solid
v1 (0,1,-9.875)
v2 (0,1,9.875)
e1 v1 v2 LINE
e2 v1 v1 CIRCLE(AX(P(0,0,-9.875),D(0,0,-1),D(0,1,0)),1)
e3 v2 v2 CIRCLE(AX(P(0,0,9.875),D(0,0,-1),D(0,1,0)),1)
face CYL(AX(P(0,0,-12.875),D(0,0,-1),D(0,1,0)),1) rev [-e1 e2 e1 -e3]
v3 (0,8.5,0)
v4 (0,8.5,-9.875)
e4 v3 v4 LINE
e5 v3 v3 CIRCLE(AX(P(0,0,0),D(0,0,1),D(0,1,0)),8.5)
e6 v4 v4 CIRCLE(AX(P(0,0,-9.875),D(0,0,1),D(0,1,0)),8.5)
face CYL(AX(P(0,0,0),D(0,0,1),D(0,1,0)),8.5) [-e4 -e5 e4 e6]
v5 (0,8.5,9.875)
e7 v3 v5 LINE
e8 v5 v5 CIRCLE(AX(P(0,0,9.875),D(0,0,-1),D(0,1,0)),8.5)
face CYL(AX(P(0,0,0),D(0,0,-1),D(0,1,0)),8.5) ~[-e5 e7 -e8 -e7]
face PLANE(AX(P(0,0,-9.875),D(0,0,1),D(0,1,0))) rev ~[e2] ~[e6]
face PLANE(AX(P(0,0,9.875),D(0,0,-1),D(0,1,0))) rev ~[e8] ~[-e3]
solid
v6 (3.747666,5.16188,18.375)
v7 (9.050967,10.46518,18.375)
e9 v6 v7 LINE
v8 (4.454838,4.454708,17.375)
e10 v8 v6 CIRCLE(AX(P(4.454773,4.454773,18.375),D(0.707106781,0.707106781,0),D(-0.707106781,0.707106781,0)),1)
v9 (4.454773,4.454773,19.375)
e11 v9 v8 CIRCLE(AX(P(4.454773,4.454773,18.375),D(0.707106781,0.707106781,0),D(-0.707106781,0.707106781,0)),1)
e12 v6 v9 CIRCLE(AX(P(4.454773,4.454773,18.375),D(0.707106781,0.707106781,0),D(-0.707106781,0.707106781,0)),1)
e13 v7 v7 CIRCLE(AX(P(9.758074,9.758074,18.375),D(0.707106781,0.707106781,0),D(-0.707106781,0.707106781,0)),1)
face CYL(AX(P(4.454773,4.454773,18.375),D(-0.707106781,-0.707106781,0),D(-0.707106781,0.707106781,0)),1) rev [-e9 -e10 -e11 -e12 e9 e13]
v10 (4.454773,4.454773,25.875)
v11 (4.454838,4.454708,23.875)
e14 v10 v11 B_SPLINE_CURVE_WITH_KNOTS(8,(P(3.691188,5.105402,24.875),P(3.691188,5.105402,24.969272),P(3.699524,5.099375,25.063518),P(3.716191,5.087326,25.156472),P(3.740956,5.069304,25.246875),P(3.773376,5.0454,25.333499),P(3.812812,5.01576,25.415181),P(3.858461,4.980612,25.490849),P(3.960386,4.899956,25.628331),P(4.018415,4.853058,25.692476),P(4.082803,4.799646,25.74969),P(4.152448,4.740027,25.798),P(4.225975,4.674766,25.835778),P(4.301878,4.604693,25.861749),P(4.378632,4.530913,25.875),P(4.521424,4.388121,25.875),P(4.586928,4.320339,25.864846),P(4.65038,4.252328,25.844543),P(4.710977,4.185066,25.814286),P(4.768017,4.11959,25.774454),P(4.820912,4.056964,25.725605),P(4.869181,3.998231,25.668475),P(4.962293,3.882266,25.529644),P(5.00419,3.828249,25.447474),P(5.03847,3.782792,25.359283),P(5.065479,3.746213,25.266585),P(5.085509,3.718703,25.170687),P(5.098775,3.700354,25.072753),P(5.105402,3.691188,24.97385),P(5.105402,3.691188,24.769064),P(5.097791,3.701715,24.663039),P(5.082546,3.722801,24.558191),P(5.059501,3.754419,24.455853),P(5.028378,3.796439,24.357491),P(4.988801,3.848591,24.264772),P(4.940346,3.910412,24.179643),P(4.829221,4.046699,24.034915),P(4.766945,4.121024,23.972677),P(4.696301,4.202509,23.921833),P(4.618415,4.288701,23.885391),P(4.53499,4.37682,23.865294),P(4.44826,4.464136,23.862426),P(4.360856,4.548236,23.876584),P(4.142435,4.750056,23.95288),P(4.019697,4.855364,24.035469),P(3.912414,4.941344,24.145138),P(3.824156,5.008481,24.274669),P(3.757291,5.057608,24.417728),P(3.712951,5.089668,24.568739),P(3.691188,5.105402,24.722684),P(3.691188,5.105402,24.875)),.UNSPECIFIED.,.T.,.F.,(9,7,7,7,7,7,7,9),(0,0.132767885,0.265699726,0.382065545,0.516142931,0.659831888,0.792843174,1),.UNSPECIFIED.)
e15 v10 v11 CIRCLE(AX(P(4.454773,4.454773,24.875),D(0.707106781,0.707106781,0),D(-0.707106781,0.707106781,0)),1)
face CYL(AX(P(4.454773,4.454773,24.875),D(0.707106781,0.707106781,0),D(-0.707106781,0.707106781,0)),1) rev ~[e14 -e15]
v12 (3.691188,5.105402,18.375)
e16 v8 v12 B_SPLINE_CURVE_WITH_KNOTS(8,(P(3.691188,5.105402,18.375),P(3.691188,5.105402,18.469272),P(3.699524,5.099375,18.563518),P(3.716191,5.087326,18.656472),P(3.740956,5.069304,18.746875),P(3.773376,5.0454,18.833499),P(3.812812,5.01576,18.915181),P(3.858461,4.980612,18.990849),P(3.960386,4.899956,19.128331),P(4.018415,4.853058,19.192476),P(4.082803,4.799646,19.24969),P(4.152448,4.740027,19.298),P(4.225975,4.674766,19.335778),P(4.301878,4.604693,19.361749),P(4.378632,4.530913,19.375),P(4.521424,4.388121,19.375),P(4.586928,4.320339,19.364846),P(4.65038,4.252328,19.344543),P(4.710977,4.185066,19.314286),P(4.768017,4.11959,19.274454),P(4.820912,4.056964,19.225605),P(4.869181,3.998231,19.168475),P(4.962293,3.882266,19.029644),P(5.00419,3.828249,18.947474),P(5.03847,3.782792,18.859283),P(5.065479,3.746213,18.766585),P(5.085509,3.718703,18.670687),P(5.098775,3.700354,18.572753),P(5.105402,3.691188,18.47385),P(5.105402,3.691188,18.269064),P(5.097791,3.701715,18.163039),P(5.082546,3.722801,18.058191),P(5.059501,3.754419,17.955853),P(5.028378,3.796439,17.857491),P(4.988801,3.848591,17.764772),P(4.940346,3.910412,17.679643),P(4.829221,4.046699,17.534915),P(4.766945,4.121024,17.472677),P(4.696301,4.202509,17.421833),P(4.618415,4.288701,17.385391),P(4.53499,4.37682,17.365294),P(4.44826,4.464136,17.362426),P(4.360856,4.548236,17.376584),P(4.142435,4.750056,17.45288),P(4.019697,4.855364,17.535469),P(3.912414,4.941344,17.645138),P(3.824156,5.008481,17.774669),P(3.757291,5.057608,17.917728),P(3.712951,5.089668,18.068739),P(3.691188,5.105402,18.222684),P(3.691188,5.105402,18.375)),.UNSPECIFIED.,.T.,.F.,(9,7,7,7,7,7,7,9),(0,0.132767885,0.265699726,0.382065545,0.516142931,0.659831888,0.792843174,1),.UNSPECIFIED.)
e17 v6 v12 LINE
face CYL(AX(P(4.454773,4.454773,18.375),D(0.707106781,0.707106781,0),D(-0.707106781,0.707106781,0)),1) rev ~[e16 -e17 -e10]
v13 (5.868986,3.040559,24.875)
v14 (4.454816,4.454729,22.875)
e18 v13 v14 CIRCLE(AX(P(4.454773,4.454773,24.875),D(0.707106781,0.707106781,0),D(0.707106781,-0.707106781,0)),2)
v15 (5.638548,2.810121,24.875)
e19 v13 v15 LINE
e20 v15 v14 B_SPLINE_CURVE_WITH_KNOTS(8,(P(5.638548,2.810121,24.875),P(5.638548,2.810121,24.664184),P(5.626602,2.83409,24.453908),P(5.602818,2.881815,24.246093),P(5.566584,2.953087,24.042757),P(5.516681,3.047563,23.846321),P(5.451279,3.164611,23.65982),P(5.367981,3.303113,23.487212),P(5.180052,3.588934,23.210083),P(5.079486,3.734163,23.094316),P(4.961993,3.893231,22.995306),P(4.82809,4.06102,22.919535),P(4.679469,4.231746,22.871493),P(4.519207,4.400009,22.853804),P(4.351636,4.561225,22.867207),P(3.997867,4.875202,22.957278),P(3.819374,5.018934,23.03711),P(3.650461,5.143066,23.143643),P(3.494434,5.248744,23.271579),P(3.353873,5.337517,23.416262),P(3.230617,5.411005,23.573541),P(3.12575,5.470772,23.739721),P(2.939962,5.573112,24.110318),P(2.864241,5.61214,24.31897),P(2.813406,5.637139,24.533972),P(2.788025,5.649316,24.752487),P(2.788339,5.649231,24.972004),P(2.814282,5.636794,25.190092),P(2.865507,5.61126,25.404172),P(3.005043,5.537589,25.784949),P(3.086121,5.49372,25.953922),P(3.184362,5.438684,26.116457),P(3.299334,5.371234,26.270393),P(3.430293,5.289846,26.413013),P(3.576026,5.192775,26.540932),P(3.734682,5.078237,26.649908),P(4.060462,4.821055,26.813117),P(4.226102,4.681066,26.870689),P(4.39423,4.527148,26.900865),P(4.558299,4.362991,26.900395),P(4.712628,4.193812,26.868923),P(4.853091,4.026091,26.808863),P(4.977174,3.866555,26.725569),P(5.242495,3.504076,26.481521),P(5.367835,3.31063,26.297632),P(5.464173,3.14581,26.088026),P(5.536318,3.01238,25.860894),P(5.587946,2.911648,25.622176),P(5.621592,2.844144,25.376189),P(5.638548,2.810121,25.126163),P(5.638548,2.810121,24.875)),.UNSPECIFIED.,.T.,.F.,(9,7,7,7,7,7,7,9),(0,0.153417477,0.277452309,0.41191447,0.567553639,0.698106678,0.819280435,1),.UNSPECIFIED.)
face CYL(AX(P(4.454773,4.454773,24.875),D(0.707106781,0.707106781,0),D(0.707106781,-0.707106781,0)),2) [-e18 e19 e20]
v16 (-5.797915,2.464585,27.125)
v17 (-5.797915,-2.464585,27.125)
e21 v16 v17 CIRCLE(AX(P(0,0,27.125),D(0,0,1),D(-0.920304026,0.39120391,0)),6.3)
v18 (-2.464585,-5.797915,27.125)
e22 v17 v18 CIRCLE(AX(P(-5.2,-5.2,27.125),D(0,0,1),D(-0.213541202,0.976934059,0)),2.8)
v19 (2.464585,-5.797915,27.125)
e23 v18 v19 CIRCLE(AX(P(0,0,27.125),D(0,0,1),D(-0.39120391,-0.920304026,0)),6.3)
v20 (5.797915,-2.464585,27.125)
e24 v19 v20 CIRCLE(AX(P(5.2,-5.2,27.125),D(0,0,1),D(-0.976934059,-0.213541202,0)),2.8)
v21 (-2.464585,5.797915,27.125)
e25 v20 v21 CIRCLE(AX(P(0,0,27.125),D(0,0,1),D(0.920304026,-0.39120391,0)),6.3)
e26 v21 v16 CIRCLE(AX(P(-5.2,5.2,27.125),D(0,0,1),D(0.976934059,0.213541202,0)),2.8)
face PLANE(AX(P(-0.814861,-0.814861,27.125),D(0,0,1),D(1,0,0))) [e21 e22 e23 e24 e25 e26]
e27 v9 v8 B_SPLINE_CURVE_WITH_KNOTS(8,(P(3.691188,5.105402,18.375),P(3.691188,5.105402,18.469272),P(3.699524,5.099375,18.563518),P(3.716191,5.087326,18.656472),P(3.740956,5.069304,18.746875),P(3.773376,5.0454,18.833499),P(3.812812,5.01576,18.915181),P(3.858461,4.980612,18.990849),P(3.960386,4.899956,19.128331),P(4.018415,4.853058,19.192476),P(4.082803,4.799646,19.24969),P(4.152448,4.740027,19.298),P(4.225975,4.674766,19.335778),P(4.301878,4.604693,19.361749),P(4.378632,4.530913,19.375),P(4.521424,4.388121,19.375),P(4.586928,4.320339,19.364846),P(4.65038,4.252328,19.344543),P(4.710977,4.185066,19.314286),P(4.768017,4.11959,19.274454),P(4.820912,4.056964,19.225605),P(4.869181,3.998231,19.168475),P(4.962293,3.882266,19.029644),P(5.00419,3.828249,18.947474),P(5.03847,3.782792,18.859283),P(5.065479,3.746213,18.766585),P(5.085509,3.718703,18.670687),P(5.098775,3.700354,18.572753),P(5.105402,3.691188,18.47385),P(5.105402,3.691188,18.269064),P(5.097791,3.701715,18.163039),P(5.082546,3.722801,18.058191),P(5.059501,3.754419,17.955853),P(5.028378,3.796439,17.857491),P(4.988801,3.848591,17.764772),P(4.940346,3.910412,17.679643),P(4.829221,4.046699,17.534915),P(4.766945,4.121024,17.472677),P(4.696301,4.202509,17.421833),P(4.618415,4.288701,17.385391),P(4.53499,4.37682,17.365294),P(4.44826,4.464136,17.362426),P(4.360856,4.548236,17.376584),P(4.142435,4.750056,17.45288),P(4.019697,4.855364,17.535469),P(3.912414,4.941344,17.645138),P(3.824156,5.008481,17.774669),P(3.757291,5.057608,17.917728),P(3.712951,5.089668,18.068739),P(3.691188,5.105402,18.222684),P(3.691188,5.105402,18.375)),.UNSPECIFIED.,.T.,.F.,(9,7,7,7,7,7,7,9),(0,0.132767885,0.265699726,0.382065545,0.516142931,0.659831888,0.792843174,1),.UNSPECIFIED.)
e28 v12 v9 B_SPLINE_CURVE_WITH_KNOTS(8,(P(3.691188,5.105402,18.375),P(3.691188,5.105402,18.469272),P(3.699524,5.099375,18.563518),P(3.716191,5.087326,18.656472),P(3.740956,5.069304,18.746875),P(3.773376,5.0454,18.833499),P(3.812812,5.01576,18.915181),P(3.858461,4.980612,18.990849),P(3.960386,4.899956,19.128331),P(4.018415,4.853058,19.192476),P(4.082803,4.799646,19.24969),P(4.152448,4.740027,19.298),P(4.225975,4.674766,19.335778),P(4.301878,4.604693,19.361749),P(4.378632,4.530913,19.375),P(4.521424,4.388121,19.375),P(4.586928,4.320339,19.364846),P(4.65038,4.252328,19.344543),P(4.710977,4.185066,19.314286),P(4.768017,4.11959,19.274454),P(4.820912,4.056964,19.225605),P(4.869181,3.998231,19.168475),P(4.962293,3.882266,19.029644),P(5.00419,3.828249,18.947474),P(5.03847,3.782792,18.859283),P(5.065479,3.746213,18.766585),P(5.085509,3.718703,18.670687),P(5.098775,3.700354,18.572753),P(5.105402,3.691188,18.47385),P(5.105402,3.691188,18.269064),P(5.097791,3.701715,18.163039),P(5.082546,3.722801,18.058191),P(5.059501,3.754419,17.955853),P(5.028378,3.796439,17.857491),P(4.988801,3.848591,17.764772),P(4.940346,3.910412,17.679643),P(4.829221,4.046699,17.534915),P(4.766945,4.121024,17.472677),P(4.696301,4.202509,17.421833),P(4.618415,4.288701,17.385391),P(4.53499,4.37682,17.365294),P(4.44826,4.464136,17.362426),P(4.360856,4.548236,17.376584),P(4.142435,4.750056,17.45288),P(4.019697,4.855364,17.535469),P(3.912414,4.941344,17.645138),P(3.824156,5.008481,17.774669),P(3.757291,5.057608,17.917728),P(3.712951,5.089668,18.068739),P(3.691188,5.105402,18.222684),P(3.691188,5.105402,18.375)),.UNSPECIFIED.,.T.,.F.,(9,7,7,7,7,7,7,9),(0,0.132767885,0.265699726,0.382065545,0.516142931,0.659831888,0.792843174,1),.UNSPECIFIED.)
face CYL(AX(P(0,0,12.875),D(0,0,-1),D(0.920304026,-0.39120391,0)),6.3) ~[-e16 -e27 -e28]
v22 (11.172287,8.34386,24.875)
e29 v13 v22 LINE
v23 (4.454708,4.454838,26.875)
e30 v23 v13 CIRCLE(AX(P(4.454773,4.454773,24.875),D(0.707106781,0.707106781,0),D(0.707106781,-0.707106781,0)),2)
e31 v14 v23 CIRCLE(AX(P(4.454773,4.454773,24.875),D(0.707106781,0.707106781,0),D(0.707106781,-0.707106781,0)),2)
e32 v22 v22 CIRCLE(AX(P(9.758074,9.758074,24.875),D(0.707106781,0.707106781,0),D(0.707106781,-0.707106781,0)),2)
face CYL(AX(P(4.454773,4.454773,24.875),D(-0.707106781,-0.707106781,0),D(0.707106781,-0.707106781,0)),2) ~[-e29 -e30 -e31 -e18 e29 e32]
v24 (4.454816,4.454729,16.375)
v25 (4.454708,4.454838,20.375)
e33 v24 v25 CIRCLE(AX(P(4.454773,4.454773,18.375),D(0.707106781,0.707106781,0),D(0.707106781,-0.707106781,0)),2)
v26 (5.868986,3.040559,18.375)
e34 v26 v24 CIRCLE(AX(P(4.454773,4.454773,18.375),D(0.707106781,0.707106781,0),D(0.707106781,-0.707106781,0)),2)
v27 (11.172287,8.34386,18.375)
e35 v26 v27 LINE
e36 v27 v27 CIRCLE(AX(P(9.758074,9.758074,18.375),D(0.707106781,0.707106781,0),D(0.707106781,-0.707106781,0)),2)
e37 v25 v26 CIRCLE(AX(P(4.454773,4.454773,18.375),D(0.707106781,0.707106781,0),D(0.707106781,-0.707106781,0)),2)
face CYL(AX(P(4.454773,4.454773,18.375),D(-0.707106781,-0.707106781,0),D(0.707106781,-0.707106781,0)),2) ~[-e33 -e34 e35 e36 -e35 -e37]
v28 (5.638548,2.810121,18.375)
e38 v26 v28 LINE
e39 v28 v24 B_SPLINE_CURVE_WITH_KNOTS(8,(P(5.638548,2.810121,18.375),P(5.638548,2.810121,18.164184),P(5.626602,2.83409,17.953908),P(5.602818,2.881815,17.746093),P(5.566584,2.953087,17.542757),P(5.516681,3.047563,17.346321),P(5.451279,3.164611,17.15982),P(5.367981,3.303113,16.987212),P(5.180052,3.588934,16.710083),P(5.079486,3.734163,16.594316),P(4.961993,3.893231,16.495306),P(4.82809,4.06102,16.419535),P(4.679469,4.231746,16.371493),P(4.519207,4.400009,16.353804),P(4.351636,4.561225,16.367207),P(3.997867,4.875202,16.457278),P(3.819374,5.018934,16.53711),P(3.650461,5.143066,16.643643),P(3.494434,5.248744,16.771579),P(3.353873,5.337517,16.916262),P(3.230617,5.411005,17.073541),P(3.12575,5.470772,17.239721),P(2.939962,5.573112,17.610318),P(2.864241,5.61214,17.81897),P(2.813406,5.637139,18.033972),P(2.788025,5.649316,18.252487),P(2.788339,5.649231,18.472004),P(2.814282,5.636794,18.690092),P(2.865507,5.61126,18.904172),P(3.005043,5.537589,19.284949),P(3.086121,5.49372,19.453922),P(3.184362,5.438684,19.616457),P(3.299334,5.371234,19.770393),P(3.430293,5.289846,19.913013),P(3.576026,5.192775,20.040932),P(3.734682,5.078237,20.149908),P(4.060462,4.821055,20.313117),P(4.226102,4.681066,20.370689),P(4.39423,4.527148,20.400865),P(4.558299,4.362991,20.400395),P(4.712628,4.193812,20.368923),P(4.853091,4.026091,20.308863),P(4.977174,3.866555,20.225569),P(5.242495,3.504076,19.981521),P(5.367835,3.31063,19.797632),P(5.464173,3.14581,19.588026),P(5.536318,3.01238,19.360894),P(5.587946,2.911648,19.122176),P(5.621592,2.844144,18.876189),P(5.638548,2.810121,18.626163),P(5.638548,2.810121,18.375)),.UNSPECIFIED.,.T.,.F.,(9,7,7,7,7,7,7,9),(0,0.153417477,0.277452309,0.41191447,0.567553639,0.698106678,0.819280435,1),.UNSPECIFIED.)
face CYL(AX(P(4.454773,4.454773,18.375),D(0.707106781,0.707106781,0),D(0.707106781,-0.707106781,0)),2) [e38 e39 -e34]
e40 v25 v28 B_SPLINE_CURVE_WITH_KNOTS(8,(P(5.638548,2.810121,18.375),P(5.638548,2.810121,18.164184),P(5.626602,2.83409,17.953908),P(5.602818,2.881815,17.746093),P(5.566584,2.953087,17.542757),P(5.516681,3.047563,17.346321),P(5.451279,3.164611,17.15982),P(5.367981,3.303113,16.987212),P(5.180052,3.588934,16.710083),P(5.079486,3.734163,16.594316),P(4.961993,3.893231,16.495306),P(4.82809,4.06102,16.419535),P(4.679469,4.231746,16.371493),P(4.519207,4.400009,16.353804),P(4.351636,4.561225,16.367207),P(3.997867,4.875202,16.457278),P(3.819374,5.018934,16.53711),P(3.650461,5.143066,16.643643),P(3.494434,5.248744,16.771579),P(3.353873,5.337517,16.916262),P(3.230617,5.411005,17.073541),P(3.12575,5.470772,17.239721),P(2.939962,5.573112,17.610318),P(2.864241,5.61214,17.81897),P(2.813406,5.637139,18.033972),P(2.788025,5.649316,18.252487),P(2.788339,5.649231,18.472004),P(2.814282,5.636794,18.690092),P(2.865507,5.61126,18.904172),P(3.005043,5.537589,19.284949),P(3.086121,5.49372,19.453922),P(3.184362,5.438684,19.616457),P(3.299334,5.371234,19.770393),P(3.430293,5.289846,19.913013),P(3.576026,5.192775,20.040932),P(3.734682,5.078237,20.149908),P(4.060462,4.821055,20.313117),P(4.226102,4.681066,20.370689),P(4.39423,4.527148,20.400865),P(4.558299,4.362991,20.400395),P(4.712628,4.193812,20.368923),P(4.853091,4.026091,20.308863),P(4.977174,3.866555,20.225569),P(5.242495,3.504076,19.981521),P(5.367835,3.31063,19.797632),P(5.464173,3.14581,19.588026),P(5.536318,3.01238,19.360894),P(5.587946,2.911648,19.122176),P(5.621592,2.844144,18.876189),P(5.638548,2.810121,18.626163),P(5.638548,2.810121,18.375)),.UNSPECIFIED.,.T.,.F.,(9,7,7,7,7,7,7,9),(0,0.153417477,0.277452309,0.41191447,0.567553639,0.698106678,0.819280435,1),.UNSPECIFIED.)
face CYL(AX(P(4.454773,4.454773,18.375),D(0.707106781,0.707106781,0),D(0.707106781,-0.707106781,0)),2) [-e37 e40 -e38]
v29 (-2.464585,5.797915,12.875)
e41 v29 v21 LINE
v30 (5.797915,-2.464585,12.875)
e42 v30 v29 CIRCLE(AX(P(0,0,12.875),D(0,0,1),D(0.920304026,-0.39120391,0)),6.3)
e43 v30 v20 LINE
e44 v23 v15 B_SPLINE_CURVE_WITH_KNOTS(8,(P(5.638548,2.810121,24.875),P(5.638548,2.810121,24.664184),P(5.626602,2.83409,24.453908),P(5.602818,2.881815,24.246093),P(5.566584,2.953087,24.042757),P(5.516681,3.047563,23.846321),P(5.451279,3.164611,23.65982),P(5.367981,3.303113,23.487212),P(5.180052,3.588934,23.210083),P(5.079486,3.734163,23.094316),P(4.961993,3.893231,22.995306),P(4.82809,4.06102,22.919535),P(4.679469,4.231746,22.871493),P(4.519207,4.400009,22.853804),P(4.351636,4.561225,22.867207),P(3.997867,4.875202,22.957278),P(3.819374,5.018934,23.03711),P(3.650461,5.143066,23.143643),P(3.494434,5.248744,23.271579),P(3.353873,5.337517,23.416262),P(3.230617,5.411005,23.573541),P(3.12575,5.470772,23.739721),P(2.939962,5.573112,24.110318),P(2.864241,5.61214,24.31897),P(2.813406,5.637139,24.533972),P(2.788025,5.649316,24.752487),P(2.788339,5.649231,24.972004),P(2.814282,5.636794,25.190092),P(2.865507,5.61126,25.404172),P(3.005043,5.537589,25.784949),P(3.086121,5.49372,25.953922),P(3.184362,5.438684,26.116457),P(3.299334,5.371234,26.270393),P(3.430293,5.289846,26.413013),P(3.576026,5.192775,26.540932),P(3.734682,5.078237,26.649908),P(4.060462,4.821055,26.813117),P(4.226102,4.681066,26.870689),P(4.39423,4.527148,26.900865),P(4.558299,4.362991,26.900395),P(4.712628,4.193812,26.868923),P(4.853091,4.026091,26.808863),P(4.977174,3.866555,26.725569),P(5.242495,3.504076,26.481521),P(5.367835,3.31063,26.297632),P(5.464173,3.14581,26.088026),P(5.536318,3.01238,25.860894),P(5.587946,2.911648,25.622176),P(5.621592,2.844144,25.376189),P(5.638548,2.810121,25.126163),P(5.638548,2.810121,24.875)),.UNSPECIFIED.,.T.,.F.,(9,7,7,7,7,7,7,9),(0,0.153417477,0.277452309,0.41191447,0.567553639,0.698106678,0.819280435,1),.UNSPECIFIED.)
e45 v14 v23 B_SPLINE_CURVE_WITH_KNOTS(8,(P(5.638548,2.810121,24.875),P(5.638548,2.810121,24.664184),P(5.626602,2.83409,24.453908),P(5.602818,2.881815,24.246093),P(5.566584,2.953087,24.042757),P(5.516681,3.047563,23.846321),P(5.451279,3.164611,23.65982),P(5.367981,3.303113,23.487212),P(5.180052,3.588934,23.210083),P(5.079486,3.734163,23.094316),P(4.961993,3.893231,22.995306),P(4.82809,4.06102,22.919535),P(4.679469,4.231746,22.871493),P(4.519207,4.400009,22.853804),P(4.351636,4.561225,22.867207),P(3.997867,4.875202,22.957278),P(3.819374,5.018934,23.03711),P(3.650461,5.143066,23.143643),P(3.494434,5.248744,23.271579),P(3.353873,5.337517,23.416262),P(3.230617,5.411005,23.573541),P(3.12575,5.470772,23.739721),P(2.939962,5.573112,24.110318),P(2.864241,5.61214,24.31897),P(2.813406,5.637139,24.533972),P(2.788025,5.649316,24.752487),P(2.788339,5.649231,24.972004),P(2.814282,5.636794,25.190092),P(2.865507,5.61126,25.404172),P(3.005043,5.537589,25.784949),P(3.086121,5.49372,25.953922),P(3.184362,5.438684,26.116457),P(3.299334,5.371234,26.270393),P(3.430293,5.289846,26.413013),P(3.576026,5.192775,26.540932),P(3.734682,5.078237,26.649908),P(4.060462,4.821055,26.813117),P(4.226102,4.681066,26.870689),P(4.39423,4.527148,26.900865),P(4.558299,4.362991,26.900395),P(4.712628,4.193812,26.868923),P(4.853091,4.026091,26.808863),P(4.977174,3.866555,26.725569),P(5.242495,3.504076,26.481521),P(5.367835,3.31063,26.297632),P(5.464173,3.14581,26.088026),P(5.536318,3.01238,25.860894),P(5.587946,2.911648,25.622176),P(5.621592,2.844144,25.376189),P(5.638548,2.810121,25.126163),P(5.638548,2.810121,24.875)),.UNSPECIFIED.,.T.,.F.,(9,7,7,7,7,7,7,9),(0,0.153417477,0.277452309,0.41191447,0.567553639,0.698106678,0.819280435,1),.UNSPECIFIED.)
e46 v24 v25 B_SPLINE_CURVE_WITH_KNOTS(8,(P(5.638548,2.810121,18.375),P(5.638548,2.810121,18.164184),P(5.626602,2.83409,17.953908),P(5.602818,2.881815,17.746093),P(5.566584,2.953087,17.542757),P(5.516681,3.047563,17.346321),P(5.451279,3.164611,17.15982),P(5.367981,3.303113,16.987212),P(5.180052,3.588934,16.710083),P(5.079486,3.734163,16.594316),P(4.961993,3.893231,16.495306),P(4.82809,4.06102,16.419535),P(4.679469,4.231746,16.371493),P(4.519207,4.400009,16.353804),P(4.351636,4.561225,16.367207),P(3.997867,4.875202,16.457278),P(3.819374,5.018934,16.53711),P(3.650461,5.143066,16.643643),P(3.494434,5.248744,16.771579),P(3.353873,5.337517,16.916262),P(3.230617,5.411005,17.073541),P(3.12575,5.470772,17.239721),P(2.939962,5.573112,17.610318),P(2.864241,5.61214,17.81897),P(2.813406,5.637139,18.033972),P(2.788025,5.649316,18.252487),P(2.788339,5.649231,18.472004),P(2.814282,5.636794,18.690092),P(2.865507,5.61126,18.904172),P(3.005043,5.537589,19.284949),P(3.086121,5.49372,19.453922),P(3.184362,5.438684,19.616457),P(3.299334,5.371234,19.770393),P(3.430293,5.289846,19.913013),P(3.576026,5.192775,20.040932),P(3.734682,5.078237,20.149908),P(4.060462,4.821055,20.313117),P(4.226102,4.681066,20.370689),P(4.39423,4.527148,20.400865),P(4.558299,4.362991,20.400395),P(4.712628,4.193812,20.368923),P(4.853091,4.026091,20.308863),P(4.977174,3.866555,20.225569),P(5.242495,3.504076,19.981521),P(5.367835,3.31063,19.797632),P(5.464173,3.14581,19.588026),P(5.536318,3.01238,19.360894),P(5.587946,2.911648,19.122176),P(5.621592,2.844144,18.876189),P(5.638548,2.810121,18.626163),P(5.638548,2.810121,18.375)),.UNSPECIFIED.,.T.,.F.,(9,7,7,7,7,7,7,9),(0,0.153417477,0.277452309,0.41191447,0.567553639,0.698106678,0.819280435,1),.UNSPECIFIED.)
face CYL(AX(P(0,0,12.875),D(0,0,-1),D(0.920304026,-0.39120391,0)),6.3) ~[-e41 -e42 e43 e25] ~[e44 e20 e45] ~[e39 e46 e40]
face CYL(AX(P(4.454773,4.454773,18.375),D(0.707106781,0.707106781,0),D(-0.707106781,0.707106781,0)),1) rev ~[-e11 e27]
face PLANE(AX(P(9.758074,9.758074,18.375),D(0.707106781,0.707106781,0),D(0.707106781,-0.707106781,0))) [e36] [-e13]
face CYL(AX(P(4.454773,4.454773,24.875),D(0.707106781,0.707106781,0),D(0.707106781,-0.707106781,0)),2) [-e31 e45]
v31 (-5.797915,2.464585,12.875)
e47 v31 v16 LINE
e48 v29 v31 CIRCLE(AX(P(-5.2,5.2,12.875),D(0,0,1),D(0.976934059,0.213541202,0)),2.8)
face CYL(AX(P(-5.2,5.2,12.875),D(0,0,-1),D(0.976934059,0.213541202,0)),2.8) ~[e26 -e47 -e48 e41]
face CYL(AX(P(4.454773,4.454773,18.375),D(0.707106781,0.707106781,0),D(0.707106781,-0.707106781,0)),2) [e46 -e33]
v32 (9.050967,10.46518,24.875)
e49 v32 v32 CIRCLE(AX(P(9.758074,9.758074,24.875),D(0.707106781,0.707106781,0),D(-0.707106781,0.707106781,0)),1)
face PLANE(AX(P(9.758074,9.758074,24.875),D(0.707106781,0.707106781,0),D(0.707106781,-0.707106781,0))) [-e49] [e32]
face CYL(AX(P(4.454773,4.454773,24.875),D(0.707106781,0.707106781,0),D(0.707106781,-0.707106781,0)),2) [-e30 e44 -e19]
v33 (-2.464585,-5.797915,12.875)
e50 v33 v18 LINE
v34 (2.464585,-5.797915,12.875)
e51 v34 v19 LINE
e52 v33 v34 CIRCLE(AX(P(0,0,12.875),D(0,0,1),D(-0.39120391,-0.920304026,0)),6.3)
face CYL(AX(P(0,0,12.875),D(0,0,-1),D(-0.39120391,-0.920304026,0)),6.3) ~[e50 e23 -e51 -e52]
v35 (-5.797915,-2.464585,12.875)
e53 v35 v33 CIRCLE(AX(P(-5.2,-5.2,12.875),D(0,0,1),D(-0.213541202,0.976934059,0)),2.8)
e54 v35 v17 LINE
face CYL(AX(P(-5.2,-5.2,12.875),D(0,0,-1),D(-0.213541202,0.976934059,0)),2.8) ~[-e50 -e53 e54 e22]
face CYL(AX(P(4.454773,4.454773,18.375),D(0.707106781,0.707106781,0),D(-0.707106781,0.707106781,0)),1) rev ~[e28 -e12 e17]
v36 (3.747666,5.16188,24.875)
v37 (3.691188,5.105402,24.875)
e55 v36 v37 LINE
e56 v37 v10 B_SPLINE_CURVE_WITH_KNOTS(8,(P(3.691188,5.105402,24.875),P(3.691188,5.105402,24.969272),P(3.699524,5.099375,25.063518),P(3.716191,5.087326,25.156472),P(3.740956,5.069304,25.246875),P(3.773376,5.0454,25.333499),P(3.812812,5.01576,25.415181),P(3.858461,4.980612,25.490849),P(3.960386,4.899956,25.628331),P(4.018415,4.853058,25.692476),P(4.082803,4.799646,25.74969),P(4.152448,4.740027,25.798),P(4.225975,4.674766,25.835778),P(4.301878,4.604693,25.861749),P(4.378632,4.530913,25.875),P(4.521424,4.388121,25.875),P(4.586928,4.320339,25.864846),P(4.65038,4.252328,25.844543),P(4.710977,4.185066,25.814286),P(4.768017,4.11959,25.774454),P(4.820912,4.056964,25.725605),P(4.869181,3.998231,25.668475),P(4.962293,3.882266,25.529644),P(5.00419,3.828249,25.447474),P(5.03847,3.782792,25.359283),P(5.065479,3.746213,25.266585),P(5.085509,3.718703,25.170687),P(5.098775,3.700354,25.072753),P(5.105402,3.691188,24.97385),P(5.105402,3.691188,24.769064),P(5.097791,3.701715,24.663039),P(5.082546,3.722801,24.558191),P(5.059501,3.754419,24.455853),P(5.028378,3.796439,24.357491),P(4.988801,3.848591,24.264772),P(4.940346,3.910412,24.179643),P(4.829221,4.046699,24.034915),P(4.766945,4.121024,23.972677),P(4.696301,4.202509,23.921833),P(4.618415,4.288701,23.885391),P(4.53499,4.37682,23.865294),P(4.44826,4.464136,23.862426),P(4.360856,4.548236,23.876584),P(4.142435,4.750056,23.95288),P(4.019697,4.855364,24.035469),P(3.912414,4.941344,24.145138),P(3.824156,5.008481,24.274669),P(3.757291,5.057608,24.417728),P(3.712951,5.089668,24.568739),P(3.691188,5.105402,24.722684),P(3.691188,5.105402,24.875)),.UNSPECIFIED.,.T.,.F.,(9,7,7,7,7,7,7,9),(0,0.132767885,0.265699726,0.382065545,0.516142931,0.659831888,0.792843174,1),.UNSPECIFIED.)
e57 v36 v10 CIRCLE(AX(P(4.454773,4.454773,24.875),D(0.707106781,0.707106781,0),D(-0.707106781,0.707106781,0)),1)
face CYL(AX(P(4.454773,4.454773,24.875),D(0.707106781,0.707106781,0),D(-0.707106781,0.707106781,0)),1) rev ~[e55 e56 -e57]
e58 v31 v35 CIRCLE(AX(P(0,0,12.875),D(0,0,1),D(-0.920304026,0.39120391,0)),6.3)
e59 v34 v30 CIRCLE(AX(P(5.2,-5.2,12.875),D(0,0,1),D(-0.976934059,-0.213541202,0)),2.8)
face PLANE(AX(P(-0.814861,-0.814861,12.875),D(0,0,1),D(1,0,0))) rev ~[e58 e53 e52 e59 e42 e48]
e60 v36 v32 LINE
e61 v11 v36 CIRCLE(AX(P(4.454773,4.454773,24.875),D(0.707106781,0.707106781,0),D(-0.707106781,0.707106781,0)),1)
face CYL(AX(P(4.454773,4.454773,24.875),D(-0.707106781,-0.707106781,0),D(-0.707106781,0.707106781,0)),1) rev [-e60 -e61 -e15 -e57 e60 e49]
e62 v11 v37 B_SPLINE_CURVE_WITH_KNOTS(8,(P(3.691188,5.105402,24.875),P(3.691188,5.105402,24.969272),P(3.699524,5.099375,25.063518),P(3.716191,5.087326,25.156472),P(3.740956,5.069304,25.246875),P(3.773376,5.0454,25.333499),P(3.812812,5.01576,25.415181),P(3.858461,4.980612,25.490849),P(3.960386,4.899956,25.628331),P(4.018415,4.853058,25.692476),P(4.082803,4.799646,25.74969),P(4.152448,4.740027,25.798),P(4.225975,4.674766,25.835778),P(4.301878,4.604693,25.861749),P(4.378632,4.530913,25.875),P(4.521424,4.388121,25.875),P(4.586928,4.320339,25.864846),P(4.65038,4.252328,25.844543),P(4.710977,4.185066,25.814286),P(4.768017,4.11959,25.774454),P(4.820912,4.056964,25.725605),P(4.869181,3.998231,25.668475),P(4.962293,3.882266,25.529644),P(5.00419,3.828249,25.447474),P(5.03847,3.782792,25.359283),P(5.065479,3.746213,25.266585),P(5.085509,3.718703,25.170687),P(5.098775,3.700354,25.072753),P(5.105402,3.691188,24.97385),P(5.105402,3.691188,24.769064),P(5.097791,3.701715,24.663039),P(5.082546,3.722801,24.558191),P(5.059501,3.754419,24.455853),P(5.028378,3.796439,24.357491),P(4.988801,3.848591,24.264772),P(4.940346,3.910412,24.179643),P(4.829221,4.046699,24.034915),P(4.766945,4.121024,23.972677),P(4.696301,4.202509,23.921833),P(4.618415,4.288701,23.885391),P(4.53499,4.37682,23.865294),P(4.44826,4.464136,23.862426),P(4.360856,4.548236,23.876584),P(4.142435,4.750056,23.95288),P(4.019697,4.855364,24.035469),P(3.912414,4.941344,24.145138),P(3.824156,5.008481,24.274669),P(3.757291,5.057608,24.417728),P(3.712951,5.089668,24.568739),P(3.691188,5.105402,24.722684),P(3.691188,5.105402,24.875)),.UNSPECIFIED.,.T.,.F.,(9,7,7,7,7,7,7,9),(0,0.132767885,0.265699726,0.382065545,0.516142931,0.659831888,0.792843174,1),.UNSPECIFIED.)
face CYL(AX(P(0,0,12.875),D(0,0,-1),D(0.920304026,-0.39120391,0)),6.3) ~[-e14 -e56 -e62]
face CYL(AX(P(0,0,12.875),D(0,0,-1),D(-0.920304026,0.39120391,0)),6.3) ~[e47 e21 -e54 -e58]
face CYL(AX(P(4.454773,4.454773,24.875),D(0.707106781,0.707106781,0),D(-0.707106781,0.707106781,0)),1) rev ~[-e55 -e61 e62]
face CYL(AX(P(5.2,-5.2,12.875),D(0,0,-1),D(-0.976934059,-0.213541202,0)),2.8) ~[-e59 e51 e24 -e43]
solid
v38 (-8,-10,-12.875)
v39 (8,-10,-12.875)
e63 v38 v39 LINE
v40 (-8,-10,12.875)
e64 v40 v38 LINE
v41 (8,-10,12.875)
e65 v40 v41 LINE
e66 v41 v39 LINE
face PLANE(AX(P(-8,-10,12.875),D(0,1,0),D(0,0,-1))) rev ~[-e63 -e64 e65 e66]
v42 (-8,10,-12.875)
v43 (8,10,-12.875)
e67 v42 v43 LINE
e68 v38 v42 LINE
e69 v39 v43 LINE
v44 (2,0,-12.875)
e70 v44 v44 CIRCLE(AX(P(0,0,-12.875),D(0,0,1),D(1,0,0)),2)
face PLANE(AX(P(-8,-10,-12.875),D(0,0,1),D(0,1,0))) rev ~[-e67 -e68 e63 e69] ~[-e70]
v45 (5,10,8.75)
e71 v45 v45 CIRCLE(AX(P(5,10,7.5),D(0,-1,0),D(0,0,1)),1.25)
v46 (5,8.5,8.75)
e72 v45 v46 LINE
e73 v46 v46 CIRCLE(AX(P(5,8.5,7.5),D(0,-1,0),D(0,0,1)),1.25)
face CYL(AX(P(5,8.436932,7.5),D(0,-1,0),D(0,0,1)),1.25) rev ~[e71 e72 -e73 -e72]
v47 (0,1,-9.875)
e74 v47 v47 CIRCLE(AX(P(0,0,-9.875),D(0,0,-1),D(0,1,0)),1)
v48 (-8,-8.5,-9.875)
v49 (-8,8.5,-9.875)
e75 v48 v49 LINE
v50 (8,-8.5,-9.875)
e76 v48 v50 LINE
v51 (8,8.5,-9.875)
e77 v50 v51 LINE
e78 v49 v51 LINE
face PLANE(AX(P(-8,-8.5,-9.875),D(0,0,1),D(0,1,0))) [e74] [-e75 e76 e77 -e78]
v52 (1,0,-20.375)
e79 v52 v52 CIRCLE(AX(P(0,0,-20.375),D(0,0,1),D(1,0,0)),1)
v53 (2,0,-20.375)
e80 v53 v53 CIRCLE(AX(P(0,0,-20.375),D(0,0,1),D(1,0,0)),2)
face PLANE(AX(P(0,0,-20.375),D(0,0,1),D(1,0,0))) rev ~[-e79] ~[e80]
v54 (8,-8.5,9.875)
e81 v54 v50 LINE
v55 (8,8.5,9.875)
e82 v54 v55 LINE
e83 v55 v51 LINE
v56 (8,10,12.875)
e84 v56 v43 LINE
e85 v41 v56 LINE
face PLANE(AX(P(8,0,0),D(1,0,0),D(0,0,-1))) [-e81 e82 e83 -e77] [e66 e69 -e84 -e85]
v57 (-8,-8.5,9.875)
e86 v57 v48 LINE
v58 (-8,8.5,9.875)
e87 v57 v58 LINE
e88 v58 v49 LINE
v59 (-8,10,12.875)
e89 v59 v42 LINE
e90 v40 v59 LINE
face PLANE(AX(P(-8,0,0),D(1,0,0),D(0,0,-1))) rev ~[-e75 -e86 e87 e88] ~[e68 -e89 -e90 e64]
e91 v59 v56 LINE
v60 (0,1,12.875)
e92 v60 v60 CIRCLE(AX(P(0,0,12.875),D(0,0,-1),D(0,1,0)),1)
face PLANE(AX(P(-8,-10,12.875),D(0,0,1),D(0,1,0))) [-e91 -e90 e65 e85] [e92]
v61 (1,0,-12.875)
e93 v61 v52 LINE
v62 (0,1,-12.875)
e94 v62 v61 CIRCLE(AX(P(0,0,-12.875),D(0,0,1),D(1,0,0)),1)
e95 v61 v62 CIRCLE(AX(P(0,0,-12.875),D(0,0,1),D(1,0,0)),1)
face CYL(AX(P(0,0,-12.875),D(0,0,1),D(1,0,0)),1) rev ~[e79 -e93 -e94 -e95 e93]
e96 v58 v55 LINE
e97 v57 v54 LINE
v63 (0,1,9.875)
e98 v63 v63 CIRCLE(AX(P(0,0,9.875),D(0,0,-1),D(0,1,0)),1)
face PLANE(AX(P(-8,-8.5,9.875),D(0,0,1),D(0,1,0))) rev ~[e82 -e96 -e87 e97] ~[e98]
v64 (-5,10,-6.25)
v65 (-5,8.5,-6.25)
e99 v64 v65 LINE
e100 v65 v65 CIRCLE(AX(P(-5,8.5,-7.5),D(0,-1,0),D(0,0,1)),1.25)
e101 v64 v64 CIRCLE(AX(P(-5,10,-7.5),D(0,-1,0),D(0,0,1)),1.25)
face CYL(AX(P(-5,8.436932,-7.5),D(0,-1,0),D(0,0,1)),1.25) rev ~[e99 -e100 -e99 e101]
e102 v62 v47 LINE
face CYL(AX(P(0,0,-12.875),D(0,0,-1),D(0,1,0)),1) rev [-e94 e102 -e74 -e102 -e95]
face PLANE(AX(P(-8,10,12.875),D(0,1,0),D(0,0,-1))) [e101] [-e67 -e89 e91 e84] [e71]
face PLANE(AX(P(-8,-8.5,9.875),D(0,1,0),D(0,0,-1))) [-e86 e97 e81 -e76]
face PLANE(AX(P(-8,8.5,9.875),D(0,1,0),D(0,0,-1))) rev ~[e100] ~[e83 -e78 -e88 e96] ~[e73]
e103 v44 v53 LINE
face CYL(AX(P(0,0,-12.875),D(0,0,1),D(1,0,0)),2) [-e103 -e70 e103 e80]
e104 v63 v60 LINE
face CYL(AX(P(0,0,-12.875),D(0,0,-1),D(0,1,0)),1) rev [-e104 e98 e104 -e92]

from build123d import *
from build123d.topology import SkipClean

# Parameters (mm, degrees)
FRAME_EXTRUDE_DEPTH                      = 8
FRAME_EXTRUDE_DEPTH_BACK                 = 8
FRAME_SKETCH_W                           = 25.75
FRAME_SKETCH_H                           = 20
FRAME_SKETCH_W_2                         = 19.75
FRAME_SKETCH_H_2                         = 17
ELECTROMAGNET_EXTRUDE_REACH              = 20.159
ELECTROMAGNET_SKETCH_R                   = 8.5
ELECTROMAGNET_EXTRUDE_DIRECTION_2_REACH  = 20.159
PORT_3_SKETCH_R                          = 2
PORT_3_SKETCH_R_2                        = 1
PORT_3_EXTRUDE_DEPTH                     = 7.5
PORT_3_SKETCH_3_R                        = 1
CENTER_HOLE_CUT_DEPTH                    = 29.901773302
BASE_OF_PORT_1_2_PORTS_DEPTH             = 14.25
PORTS_1_2_SKETCH_R                       = 2
PORTS_1_2_SKETCH_R_2                     = 1
PORTS_1_2_EXTRUDE_DEPTH                  = 7.5
PORTS_1_2_EXTRUDE_DIRECTION_2_REACH      = 35.355
PORTS_1_2_EXTRUDE_DIRECTION_2_END_RADIUS = 6.3
MOUNTING_HOLES_PROFILE_SKETCH_W          = 1.25
MOUNTING_HOLES_PROFILE_SKETCH_H          = 3.126136458
MOUNTING_HOLES_AT_2_COUNT                = 2
MOUNTING_HOLES_AT_2_PITCH                = 18.027756377


with BuildPart() as part:
    # Frame Sketch → Frame Extrude (new, two sides: drawn at the far end of the back side and taken through both)
    with BuildSketch(Plane(origin=(0, 0, 0), x_dir=(0, 0, -1), z_dir=(1, 0, 0)).offset(-FRAME_EXTRUDE_DEPTH_BACK)):
        Rectangle(FRAME_SKETCH_W, FRAME_SKETCH_H)
        Rectangle(FRAME_SKETCH_W_2, FRAME_SKETCH_H_2, mode=Mode.SUBTRACT)
    extrude(amount=FRAME_EXTRUDE_DEPTH + FRAME_EXTRUDE_DEPTH_BACK)


with BuildPart() as body_2:

    # Electromagnet Extrude: up to this face of the body (flat: up to its plane)
    electromagnet_extrude_end = Plane(part.part.faces().sort_by_distance((0, 0, 9.875))[0])
    # Electromagnet Sketch → Electromagnet Extrude (new, up to the picked face)
    with BuildSketch(Plane.XY, mode=Mode.PRIVATE) as electromagnet_extrude_sk1:
        with Locations(Location((0, 0, 0), (0, 0, 90))):
            Circle(ELECTROMAGNET_SKETCH_R)
    electromagnet_extrude_tool1 = split(extrude(electromagnet_extrude_sk1.sketch, amount=ELECTROMAGNET_EXTRUDE_REACH, mode=Mode.PRIVATE), bisect_by=electromagnet_extrude_end, keep=Keep.BOTH, mode=Mode.PRIVATE)
    add(electromagnet_extrude_tool1.solids().sort_by(Axis((0, 0, 0), (0, 0, 1)))[0])


    # Electromagnet Extrude direction 2: up to this face of the body (flat: up to its plane)
    electromagnet_extrude_direction_2_end = Plane(part.part.faces().sort_by_distance((0, 0, -9.875))[0])
    # Electromagnet Sketch → Electromagnet Extrude direction 2 (add, up to the picked face)
    with BuildSketch(Plane.XY, mode=Mode.PRIVATE) as electromagnet_extrude_direction_2_sk1:
        with Locations(Location((0, 0, 0), (0, 0, 90))):
            Circle(ELECTROMAGNET_SKETCH_R)
    electromagnet_extrude_direction_2_tool1 = split(extrude(electromagnet_extrude_direction_2_sk1.sketch, amount=-ELECTROMAGNET_EXTRUDE_DIRECTION_2_REACH, mode=Mode.PRIVATE), bisect_by=electromagnet_extrude_direction_2_end, keep=Keep.BOTH, mode=Mode.PRIVATE)
    add(electromagnet_extrude_direction_2_tool1.solids().sort_by(Axis((0, 0, 0), (0, 0, -1)))[0])


with BuildPart() as part_1:
    add(part.part)

    # Port 3 Sketch → Port 3 Extrude (add)
    with BuildSketch(Plane.XY.offset(-12.875)):
        Circle(PORT_3_SKETCH_R)
        Circle(PORT_3_SKETCH_R_2, mode=Mode.SUBTRACT)
    extrude(amount=-PORT_3_EXTRUDE_DEPTH)


with BuildPart() as center_hole_cut_tool:
    # Port 3 Sketch<3> → Center Hole Cut (new, through all)
    with BuildSketch(Plane.XY.offset(-12.875)):
        with Locations(Location((0, 0, 0), (0, 0, 90))):
            Circle(PORT_3_SKETCH_3_R)
    extrude(amount=CENTER_HOLE_CUT_DEPTH)


with BuildPart() as part_2:
    add(part_1.part)

    # Center Hole Cut: cut by center_hole_cut_tool
    add(center_hole_cut_tool.part, mode=Mode.SUBTRACT)

    # Mounting Holes Profile Sketch → Mounting Holes (revolve, cut)
    with BuildSketch(Plane(origin=(5, 10, 7.5), x_dir=(0, 0, 1), z_dir=(1, 0, 0))):
        with Locations((0.625, 1.563068229)):
            Rectangle(MOUNTING_HOLES_PROFILE_SKETCH_W, MOUNTING_HOLES_PROFILE_SKETCH_H)
    mounting_holes = revolve(axis=Axis((5, 16.35, 7.5), (0, -1, 0)), mode=Mode.SUBTRACT)

    # Mounting Holes at 2: Mounting Holes ×2
    with Locations(*[Vector(-0.5547001962252294, 0, -0.8320502943378435) * (i * MOUNTING_HOLES_AT_2_PITCH) for i in range(1, MOUNTING_HOLES_AT_2_COUNT)]):
        add(mounting_holes, mode=Mode.SUBTRACT)


with BuildPart() as body_2_1:
    add(body_2.part)

    # Center Hole Cut: cut by center_hole_cut_tool
    add(center_hole_cut_tool.part, mode=Mode.SUBTRACT)


with BuildPart() as body_3:
    # Base of Ports 1&2 Sketch → Base of Port 1&2 Ports (new body)
    with BuildSketch(Plane.XY.offset(12.875)):
        with BuildLine():
            ThreePointArc((-5.797915365, 2.464584635), (-6.3, 0), (-5.797915365, -2.464584635))
            ThreePointArc((-5.797915365, -2.464584635), (-7.179898987, -7.179898987), (-2.464584635, -5.797915365))
            ThreePointArc((-2.464584635, -5.797915365), (0, -6.3), (2.464584635, -5.797915365))
            ThreePointArc((2.464584635, -5.797915365), (7.179898987, -7.179898987), (5.797915365, -2.464584635))
            ThreePointArc((5.797915365, -2.464584635), (4.454772721, 4.454772721), (-2.464584635, 5.797915365))
            ThreePointArc((-2.464584635, 5.797915365), (-7.179898987, 7.179898987), (-5.797915365, 2.464584635))
        make_face()
    extrude(amount=BASE_OF_PORT_1_2_PORTS_DEPTH)

    # Ports 1&2 Sketch → Ports 1&2 Extrude (add)
    # profile 1 of 2: a face of its own
    with BuildSketch(Plane(origin=(4.454772721, 4.454772721, 0), x_dir=(0, 0, -1), z_dir=(0.7071067811865561, 0.7071067811865389, 0))):
        with Locations(Location((-24.875, 0, 0), (0, 0, 270))):
            Circle(PORTS_1_2_SKETCH_R)
        with Locations(Location((-24.875, 0, 0), (0, 0, 90))):
            Circle(PORTS_1_2_SKETCH_R_2, mode=Mode.SUBTRACT)
    # profile 2 of 2: a face of its own
    with BuildSketch(Plane(origin=(4.454772721, 4.454772721, 0), x_dir=(0, 0, -1), z_dir=(0.7071067811865561, 0.7071067811865389, 0))):
        with Locations(Location((-18.375, 0, 0), (0, 0, 270))):
            Circle(PORTS_1_2_SKETCH_R)
        with Locations(Location((-18.375, 0, 0), (0, 0, 90))):
            Circle(PORTS_1_2_SKETCH_R_2, mode=Mode.SUBTRACT)
    extrude(amount=PORTS_1_2_EXTRUDE_DEPTH)

    # Ports 1&2 Extrude direction 2: up to this cylinder (the profile starts outside it)
    with SkipClean():  # the faces are left unmerged after this step: merging them gives an invalid solid
        ports_1_2_extrude_direction_2_end = Plane(origin=(0, 0, 21.625), z_dir=(0, 0, -1)) * Cylinder(PORTS_1_2_EXTRUDE_DIRECTION_2_END_RADIUS, 90.81, mode=Mode.PRIVATE)
        # Ports 1&2 Sketch → Ports 1&2 Extrude direction 2 (add, up to the surface)
        with BuildSketch(Plane(origin=(4.454772721, 4.454772721, 0), x_dir=(0, 0, -1), z_dir=(0.7071067811865561, 0.7071067811865389, 0)), mode=Mode.PRIVATE) as ports_1_2_extrude_direction_2_sk1:
            with Locations(Location((-24.875, 0, 0), (0, 0, 270))):
                Circle(PORTS_1_2_SKETCH_R)
            with Locations(Location((-24.875, 0, 0), (0, 0, 90))):
                Circle(PORTS_1_2_SKETCH_R_2, mode=Mode.SUBTRACT)
        ports_1_2_extrude_direction_2_tool1 = extrude(ports_1_2_extrude_direction_2_sk1.sketch, amount=-PORTS_1_2_EXTRUDE_DIRECTION_2_REACH, mode=Mode.PRIVATE) - ports_1_2_extrude_direction_2_end
        add(ports_1_2_extrude_direction_2_tool1.solids().sort_by_distance((3.080559, 5.828986, 24.875))[0])
        add(ports_1_2_extrude_direction_2_tool1.solids().sort_by_distance((3.080559, 5.828986, 24.875))[1])
        # Ports 1&2 Sketch → Ports 1&2 Extrude direction 2 (add, up to the surface)
        with BuildSketch(Plane(origin=(4.454772721, 4.454772721, 0), x_dir=(0, 0, -1), z_dir=(0.7071067811865561, 0.7071067811865389, 0)), mode=Mode.PRIVATE) as ports_1_2_extrude_direction_2_sk2:
            with Locations(Location((-18.375, 0, 0), (0, 0, 270))):
                Circle(PORTS_1_2_SKETCH_R)
            with Locations(Location((-18.375, 0, 0), (0, 0, 90))):
                Circle(PORTS_1_2_SKETCH_R_2, mode=Mode.SUBTRACT)
        ports_1_2_extrude_direction_2_tool2 = extrude(ports_1_2_extrude_direction_2_sk2.sketch, amount=-PORTS_1_2_EXTRUDE_DIRECTION_2_REACH, mode=Mode.PRIVATE) - ports_1_2_extrude_direction_2_end
        add(ports_1_2_extrude_direction_2_tool2.solids().sort_by_distance((3.080559, 5.828986, 18.375))[0])
        add(ports_1_2_extrude_direction_2_tool2.solids().sort_by_distance((3.080559, 5.828986, 18.375))[1])


solid = Compound([part_2.part, body_2_1.part, body_3.part])
